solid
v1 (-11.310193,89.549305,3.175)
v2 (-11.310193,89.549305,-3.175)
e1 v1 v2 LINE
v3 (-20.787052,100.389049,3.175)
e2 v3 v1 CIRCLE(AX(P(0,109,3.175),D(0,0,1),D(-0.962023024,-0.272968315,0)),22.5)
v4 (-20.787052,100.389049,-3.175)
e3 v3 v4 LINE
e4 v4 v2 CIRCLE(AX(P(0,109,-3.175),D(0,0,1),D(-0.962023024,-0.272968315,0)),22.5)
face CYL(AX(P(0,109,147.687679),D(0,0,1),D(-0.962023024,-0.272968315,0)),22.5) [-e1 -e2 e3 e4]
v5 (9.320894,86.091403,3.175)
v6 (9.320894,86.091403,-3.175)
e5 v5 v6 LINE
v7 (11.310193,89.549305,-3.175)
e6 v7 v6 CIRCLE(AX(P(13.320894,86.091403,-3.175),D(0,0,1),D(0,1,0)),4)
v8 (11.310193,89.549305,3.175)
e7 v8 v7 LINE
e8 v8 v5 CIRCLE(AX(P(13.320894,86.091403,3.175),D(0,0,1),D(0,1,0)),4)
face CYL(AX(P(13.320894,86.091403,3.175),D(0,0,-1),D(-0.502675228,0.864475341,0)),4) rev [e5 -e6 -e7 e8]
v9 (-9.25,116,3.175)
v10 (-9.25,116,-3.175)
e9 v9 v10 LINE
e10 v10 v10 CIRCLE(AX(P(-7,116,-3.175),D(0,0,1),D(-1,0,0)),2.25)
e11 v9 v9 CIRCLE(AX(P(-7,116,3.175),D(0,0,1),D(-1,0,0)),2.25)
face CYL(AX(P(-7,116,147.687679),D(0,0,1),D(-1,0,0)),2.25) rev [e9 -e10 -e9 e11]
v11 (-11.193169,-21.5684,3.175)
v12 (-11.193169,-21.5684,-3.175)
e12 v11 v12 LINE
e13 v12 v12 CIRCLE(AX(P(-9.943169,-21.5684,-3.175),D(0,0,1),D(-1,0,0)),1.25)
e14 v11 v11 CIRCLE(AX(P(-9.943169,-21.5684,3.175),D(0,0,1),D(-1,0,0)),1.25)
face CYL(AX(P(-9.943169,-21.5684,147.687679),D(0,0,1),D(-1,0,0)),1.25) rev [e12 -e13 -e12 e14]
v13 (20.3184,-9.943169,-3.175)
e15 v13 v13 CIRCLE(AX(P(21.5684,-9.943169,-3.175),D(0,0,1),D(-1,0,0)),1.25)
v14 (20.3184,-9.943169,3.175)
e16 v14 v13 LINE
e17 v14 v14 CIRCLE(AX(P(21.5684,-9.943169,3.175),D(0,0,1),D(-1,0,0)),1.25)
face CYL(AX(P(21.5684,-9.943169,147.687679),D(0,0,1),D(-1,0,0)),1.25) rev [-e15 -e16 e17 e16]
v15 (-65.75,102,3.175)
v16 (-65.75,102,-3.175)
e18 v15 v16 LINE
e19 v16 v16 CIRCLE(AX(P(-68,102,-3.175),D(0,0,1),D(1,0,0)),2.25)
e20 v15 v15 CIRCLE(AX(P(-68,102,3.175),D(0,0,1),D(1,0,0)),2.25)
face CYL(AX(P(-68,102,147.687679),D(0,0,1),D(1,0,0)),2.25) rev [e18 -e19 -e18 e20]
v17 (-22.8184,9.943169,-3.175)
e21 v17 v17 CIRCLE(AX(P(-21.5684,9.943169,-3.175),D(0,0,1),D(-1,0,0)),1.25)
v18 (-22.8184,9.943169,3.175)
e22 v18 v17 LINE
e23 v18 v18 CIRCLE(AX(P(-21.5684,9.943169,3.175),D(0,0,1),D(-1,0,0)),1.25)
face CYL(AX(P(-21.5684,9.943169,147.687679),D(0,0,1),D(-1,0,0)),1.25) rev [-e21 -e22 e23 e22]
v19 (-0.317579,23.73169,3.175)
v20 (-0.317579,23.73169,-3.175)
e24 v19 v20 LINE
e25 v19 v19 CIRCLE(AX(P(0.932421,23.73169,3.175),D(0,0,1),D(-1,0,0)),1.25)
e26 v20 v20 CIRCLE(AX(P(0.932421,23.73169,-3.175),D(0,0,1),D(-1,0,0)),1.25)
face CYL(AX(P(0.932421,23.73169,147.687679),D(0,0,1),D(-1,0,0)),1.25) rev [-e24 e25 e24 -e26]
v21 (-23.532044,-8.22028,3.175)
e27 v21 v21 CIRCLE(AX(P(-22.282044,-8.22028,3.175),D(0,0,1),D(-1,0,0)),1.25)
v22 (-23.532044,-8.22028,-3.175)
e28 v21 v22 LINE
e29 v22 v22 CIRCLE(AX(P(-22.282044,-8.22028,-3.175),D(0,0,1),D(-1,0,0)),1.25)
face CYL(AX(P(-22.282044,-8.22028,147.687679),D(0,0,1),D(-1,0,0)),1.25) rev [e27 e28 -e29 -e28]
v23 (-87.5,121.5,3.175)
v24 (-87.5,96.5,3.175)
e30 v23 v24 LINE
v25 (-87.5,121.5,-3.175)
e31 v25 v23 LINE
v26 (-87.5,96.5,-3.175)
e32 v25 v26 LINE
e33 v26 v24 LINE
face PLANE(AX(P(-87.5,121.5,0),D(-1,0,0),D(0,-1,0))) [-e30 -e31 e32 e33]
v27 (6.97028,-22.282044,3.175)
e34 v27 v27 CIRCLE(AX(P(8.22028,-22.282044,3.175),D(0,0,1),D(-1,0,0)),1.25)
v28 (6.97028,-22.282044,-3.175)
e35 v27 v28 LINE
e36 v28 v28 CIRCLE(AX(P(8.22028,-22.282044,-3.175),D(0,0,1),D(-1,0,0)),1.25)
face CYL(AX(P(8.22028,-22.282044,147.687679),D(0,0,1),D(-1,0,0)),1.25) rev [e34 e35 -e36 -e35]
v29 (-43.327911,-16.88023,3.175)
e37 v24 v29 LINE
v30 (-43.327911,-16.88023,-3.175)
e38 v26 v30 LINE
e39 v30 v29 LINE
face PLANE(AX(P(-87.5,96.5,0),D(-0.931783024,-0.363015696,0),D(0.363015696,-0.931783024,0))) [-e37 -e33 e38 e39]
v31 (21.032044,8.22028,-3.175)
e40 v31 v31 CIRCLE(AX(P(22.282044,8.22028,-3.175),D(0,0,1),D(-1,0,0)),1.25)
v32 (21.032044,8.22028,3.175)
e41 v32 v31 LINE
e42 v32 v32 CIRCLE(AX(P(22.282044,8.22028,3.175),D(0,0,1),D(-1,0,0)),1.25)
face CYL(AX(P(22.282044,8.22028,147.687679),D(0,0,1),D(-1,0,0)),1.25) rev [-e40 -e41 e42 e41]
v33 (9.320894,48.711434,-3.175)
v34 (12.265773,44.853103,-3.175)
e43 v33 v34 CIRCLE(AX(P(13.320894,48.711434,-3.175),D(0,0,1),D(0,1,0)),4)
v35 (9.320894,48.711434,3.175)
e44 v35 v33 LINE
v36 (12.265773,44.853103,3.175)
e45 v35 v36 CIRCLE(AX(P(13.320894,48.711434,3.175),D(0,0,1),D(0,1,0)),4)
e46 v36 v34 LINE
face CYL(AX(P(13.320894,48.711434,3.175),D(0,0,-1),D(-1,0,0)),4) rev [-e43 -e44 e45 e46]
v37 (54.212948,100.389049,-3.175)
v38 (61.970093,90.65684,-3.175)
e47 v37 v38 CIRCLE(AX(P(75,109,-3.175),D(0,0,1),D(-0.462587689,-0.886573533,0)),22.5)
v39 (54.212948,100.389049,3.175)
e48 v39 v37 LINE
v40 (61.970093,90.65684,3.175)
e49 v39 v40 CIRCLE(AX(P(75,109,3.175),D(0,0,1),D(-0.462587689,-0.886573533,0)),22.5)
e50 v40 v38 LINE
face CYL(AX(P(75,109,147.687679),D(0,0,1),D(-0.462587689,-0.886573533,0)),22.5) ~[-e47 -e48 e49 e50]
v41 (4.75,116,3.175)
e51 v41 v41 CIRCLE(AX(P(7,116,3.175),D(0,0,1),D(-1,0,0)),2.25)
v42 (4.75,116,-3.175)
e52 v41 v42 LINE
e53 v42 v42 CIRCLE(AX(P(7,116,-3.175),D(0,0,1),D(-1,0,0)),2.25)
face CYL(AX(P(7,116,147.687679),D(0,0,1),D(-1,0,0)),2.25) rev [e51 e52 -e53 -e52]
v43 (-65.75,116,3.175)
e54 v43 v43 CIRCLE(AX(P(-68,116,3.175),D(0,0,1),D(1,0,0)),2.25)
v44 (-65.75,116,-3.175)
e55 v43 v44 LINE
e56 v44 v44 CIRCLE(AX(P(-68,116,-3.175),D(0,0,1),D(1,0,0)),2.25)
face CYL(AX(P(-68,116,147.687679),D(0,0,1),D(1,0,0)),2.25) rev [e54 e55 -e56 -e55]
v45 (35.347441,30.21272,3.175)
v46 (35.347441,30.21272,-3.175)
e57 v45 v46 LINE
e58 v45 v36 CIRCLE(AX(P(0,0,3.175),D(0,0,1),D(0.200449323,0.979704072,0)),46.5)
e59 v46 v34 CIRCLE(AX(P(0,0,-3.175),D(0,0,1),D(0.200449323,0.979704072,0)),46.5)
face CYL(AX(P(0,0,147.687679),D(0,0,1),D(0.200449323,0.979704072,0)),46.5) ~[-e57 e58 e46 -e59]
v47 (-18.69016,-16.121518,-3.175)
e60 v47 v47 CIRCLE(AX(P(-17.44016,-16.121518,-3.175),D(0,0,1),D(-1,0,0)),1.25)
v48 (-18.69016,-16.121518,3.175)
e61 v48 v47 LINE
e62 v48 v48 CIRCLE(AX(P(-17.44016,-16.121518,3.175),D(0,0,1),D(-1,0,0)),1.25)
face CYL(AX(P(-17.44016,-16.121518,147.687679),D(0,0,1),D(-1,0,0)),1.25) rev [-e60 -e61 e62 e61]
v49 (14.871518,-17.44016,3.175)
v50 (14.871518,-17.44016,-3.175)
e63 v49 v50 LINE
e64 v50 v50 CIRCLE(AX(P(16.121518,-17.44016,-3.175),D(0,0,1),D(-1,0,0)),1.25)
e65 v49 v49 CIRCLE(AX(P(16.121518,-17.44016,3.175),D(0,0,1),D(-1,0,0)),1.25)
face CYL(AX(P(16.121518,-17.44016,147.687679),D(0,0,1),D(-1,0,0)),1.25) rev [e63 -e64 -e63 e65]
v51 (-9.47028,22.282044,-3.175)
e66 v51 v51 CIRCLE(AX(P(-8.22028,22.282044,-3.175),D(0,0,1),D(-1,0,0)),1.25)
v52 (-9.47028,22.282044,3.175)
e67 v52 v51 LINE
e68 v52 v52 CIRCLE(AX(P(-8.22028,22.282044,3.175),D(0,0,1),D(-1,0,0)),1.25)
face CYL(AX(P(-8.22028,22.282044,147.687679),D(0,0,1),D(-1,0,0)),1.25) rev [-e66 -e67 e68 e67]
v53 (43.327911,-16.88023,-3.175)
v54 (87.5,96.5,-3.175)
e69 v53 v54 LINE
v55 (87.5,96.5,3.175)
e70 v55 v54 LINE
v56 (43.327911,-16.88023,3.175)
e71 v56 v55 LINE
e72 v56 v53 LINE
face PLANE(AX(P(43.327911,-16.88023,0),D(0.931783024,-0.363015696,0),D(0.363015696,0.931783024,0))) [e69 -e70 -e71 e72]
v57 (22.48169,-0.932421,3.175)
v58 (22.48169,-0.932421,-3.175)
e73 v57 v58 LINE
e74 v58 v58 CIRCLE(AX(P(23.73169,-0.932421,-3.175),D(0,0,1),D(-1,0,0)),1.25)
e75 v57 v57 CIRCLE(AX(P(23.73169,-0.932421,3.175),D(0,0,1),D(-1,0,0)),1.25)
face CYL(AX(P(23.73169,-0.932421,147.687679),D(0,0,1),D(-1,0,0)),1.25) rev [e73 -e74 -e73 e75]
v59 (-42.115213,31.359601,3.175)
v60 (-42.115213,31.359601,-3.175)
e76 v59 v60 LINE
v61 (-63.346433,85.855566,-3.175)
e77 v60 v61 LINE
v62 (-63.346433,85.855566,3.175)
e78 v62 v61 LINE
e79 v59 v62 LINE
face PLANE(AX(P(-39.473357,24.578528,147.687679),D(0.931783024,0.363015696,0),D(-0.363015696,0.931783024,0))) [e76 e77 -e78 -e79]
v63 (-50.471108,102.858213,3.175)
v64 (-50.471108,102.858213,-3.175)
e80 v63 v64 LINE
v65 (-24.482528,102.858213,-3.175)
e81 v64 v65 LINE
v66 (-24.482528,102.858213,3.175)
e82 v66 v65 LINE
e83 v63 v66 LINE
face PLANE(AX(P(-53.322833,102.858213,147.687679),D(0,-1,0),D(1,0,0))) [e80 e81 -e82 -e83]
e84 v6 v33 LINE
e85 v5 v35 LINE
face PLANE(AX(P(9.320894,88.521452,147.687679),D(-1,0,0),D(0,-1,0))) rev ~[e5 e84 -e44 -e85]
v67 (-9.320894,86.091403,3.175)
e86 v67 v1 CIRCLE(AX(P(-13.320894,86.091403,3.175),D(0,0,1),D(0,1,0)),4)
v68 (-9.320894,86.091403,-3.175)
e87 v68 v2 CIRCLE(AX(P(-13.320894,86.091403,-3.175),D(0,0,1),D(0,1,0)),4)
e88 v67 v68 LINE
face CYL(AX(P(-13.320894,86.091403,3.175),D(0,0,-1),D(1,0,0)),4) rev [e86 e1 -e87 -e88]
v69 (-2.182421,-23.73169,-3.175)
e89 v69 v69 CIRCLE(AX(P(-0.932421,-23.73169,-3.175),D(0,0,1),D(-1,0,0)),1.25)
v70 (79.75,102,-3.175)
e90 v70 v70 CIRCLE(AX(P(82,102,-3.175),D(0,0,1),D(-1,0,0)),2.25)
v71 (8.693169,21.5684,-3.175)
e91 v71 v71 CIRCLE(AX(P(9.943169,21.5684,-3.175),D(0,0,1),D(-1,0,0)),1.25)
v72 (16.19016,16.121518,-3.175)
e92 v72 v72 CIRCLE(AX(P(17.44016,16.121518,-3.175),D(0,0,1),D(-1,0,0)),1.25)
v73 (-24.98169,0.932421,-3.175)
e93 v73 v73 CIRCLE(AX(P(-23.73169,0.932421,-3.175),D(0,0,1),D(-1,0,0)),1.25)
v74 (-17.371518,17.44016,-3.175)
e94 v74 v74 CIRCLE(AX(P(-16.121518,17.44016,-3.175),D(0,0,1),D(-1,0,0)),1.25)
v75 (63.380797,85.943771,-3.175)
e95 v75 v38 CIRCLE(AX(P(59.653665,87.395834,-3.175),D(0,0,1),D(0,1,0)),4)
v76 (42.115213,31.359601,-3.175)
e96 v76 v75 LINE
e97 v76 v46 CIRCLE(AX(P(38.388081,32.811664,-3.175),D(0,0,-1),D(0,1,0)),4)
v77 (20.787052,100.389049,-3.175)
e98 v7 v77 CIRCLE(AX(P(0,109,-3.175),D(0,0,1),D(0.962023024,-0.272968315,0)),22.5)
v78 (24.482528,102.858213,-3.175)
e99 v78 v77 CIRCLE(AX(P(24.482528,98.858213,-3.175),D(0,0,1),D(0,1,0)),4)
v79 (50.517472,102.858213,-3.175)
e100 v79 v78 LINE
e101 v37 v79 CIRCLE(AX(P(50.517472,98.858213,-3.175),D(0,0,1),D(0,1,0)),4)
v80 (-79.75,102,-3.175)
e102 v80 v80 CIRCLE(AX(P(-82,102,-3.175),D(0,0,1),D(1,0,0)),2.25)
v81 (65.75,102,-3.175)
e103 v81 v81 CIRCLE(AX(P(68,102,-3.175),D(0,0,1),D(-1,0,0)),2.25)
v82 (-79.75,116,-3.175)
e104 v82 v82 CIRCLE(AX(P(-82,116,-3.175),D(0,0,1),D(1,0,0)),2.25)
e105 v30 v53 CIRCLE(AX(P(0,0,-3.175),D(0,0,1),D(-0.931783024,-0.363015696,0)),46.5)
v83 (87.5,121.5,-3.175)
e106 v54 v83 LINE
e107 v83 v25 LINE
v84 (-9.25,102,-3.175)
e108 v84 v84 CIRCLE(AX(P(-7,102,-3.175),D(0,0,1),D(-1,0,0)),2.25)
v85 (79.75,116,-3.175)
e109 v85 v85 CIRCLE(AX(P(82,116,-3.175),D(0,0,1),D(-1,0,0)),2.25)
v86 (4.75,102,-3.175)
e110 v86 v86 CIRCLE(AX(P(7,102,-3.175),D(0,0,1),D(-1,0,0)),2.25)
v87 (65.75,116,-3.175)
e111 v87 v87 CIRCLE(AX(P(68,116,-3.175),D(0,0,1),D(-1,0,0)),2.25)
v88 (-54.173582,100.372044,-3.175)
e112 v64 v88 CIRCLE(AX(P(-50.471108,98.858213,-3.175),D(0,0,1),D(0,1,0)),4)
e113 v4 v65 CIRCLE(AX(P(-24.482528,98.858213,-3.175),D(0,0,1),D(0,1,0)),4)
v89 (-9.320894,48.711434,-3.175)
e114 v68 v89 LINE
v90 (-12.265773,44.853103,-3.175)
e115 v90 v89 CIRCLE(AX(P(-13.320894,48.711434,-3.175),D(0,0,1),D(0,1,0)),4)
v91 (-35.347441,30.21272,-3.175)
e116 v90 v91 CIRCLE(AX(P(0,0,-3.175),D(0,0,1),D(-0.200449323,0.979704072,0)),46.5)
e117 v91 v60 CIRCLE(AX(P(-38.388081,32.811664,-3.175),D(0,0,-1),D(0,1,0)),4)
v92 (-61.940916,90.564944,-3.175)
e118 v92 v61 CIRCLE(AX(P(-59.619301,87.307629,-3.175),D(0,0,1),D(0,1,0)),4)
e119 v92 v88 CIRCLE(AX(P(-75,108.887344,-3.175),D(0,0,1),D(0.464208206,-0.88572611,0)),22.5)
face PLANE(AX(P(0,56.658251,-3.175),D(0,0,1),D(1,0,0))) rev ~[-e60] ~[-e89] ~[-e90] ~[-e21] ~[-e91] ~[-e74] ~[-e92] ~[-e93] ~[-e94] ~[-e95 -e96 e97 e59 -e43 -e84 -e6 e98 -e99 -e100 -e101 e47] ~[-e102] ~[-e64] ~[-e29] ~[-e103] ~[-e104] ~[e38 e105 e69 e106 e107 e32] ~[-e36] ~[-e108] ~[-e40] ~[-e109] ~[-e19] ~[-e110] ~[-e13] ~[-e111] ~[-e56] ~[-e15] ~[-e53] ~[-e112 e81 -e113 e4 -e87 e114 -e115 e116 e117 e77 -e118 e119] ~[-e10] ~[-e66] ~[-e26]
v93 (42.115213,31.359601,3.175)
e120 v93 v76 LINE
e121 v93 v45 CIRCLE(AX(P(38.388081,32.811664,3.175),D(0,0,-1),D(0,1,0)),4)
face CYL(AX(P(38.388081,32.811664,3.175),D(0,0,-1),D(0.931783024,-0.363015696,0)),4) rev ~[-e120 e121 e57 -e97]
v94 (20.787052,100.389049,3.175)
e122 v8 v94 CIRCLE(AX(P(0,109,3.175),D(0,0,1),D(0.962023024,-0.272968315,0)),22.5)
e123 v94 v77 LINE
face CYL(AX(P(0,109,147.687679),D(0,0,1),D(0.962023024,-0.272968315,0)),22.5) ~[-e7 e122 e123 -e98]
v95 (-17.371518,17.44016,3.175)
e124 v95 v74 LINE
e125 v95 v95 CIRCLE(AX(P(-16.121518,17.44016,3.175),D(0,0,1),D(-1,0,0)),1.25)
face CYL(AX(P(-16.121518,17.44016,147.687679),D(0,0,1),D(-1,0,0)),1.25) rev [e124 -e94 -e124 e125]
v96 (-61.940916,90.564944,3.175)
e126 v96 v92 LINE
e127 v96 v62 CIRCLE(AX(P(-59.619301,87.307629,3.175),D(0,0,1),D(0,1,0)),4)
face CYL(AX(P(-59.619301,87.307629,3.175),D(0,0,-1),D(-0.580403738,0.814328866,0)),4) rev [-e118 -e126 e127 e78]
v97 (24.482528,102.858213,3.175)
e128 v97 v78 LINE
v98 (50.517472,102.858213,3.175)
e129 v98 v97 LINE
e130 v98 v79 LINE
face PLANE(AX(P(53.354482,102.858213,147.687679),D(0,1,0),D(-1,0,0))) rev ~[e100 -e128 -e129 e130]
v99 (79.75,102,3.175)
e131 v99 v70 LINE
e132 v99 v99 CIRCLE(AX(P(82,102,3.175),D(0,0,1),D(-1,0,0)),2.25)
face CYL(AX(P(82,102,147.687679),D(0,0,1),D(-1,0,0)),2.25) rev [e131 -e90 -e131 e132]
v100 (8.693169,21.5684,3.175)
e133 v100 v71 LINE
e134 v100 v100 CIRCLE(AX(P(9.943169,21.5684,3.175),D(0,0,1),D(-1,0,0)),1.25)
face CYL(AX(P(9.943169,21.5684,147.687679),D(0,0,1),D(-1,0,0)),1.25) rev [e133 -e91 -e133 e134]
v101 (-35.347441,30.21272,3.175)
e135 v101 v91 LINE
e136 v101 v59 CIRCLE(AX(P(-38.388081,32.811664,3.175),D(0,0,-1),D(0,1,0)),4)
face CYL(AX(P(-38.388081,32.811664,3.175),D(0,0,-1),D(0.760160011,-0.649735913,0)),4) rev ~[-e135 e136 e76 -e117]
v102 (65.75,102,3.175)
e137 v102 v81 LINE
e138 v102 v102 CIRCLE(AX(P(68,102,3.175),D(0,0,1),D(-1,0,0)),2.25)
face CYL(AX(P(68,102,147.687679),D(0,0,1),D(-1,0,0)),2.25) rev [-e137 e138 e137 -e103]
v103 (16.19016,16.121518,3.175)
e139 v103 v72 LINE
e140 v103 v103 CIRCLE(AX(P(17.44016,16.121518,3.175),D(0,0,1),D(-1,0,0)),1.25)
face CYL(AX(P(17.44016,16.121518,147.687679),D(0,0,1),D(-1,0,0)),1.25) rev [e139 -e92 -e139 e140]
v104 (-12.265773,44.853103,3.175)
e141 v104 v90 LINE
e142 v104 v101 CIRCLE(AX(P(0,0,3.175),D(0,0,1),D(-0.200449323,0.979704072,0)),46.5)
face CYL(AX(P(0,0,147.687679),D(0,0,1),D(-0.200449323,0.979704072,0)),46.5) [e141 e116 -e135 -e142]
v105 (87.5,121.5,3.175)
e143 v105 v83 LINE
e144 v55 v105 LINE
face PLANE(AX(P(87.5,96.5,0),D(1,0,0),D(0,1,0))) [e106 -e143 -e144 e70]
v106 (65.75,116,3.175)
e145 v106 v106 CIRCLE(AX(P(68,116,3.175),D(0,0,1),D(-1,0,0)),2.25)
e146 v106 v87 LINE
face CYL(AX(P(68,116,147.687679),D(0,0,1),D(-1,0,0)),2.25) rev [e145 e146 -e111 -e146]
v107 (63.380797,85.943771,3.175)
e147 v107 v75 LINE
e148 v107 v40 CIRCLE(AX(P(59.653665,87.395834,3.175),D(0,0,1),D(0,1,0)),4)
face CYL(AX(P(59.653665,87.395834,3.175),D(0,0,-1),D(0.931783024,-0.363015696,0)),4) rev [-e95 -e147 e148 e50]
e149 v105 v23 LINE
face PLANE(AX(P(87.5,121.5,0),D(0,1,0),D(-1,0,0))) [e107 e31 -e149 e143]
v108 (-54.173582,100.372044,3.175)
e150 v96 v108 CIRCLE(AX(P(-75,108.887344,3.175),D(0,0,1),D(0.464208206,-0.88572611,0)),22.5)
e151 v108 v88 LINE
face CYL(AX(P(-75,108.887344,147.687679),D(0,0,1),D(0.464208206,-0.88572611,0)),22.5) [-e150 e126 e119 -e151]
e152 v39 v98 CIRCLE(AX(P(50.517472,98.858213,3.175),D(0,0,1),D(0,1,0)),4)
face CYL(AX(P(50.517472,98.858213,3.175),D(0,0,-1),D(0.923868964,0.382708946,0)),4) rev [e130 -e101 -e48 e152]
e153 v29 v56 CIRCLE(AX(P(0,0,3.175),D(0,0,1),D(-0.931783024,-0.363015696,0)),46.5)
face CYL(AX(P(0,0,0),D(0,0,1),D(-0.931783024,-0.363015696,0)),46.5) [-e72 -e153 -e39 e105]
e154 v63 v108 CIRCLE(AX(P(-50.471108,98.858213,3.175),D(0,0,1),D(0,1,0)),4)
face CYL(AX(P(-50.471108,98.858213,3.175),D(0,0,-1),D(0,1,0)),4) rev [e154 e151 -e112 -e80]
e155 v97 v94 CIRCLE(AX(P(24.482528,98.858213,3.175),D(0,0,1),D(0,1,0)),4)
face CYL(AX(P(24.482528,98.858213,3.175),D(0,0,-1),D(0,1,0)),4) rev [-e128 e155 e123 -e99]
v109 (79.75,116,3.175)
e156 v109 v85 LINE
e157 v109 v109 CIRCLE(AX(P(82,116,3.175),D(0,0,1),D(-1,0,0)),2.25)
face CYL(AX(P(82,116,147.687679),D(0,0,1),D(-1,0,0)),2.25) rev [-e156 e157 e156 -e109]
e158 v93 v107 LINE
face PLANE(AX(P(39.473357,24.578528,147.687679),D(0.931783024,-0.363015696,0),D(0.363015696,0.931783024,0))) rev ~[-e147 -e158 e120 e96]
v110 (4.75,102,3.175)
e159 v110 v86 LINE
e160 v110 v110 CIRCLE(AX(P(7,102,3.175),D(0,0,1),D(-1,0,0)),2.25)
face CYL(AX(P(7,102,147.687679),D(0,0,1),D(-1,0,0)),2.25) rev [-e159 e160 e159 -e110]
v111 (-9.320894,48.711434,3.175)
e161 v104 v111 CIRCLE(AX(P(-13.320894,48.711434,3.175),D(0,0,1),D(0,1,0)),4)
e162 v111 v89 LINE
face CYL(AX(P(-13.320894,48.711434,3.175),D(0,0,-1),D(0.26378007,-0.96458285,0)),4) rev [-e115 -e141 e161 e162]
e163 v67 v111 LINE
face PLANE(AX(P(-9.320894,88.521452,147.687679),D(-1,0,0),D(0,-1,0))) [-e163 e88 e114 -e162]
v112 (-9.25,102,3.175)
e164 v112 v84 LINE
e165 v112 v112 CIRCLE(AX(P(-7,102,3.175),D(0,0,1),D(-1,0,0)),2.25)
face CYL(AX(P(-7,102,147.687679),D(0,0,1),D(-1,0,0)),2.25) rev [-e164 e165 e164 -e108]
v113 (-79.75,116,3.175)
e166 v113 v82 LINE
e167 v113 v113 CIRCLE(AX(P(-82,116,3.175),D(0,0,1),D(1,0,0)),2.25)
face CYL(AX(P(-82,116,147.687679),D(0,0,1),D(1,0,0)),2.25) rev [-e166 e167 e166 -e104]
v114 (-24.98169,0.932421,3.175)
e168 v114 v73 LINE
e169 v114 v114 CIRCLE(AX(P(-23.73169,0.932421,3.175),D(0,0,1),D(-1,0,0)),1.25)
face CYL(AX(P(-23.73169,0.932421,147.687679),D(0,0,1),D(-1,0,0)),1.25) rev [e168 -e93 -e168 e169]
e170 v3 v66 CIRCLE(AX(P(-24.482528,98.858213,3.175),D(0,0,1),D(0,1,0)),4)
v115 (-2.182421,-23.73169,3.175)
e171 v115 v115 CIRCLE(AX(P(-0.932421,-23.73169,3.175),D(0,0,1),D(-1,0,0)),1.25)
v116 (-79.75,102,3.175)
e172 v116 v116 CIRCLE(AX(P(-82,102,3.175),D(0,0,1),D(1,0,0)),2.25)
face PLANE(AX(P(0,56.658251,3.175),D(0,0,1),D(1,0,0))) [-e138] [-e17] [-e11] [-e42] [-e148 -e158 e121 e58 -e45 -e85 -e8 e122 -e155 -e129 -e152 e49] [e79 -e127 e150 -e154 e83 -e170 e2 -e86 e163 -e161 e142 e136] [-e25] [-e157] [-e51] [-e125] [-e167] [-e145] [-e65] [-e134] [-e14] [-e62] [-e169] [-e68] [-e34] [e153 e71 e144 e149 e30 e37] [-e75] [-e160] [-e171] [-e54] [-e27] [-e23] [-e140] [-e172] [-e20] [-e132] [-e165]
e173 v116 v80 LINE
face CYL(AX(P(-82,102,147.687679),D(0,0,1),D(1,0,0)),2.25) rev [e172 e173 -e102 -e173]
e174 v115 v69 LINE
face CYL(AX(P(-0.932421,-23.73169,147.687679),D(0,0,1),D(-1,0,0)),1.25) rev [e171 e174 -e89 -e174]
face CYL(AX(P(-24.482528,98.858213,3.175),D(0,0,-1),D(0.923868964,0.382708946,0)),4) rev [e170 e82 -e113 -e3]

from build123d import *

# Parameters (mm, degrees)
BOSS_EXTRUDE1_DEPTH     = 3.175
CUT_EXTRUDE2_DEPTH      = 150.86267881
CUT_EXTRUDE2_DEPTH_BACK = 150.86267881
SKETCH3_R               = 1.25
CUT_EXTRUDE6_DEPTH      = 150.86267881
CUT_EXTRUDE6_DEPTH_BACK = 150.86267881
SKETCH12_R              = 2.25
CUT_EXTRUDE7_DEPTH      = 150.86267881
CUT_EXTRUDE7_DEPTH_BACK = 150.86267881
FILLET4_R               = 4


with BuildPart() as part:
    # Sketch1 → Boss-Extrude1 (new, symmetric)
    with BuildSketch(Plane.XY):
        with BuildLine():
            Line((87.5, 121.5), (-87.5, 121.5))
            Line((-87.5, 121.5), (-87.5, 96.5))
            Line((-87.5, 96.5), (-43.327910637, -16.880229852))
            ThreePointArc((-43.327910637, -16.880229852), (0, -46.5), (43.327910637, -16.880229852))
            Line((43.327910637, -16.880229852), (87.5, 96.5))
            Line((87.5, 96.5), (87.5, 121.5))
        make_face()
    extrude(amount=BOSS_EXTRUDE1_DEPTH, both=True)

    # Sketch3 → Cut-Extrude2 (cut, two sides: drawn at the far end of the back side and taken through both)
    with BuildSketch(Plane(origin=(0, 0, -3.175), x_dir=(-1, 0, 0), z_dir=(0, 0, -1)).offset(-CUT_EXTRUDE2_DEPTH_BACK)):
        with Locations((17.440159599, -16.121517706)):
            Circle(SKETCH3_R)
        with Locations((22.282044228, -8.220280106)):
            Circle(SKETCH3_R)
        with Locations((9.943168767, -21.568400378)):
            Circle(SKETCH3_R)
        with Locations((0.932420624, -23.731689611)):
            Circle(SKETCH3_R)
        with Locations((-8.220280106, -22.282044228)):
            Circle(SKETCH3_R)
        with Locations((-16.121517706, -17.440159599)):
            Circle(SKETCH3_R)
        with Locations((-21.568400378, -9.943168767)):
            Circle(SKETCH3_R)
        with Locations((-23.731689611, -0.932420624)):
            Circle(SKETCH3_R)
        with Locations((-22.282044228, 8.220280106)):
            Circle(SKETCH3_R)
        with Locations((-17.440159599, 16.121517706)):
            Circle(SKETCH3_R)
        with Locations((-9.943168767, 21.568400378)):
            Circle(SKETCH3_R)
        with Locations((-0.932420624, 23.731689611)):
            Circle(SKETCH3_R)
        with Locations((8.220280106, 22.282044228)):
            Circle(SKETCH3_R)
        with Locations((16.121517706, 17.440159599)):
            Circle(SKETCH3_R)
        with Locations((21.568400378, 9.943168767)):
            Circle(SKETCH3_R)
        with Locations((23.731689611, 0.932420624)):
            Circle(SKETCH3_R)
    extrude(amount=CUT_EXTRUDE2_DEPTH + CUT_EXTRUDE2_DEPTH_BACK, mode=Mode.SUBTRACT)

    # Sketch12 → Cut-Extrude6 (cut, two sides: drawn at the far end of the back side and taken through both)
    with BuildSketch(Plane(origin=(0, 0, -3.175), x_dir=(-1, 0, 0), z_dir=(0, 0, -1)).offset(-CUT_EXTRUDE6_DEPTH_BACK)):
        with Locations((-7, 102)):
            Circle(SKETCH12_R)
        with Locations((7, 102)):
            Circle(SKETCH12_R)
        with Locations((7, 116)):
            Circle(SKETCH12_R)
        with Locations((-82, 116)):
            Circle(SKETCH12_R)
        with Locations((-68, 116)):
            Circle(SKETCH12_R)
        with Locations((-68, 102)):
            Circle(SKETCH12_R)
        with Locations((-82, 102)):
            Circle(SKETCH12_R)
        with Locations(Location((82, 102, 0), (0, 0, 180))):
            Circle(SKETCH12_R)
        with Locations(Location((68, 102, 0), (0, 0, 180))):
            Circle(SKETCH12_R)
        with Locations(Location((68, 116, 0), (0, 0, 180))):
            Circle(SKETCH12_R)
        with Locations(Location((82, 116, 0), (0, 0, 180))):
            Circle(SKETCH12_R)
        with Locations((-7, 116)):
            Circle(SKETCH12_R)
    extrude(amount=CUT_EXTRUDE6_DEPTH + CUT_EXTRUDE6_DEPTH_BACK, mode=Mode.SUBTRACT)

    # Sketch13 → Cut-Extrude7 (cut, two sides: drawn at the far end of the back side and taken through both)
    with BuildSketch(Plane(origin=(0, 0, -3.175), x_dir=(-1, 0, 0), z_dir=(0, 0, -1)).offset(-CUT_EXTRUDE7_DEPTH_BACK)):
        with BuildLine():
            Line((-39.473357495, 24.578528192), (-64.591776998, 89.0520955))
            ThreePointArc((-64.591776998, 89.0520955), (-57.549704921, 94.796577819), (-53.354481954, 102.85821292))
            Line((-53.354481954, 102.85821292), (-21.645518046, 102.85821292))
            ThreePointArc((-21.645518046, 102.85821292), (-17.06210253, 94.332530646), (-9.32089354, 88.521451623))
            Line((-9.32089354, 88.521451623), (-9.32089354, 45.556239349))
            ThreePointArc((-9.32089354, 45.556239349), (-26.556276563, 38.170855048), (-39.473357495, 24.578528192))
        make_face()
        with BuildLine():
            Line((39.473357495, 24.578528192), (64.555315361, 88.958506339))
            ThreePointArc((64.555315361, 88.958506339), (57.499891336, 94.745342648), (53.322832732, 102.85821292))
            Line((53.322832732, 102.85821292), (21.645518046, 102.85821292))
            ThreePointArc((21.645518046, 102.85821292), (17.06210253, 94.332530646), (9.32089354, 88.521451623))
            Line((9.32089354, 88.521451623), (9.32089354, 45.556239349))
            ThreePointArc((9.32089354, 45.556239349), (26.556276563, 38.170855048), (39.473357495, 24.578528192))
        make_face()
    extrude(amount=CUT_EXTRUDE7_DEPTH + CUT_EXTRUDE7_DEPTH_BACK, mode=Mode.SUBTRACT)

    # Fillet4
    fillet4_edges = [part.edges().sort_by_distance(p)[0] for p in [
        (-53.322832732, 102.85821292, 0),
        (-64.555315361, 88.958506339, 0),
        (-39.473357495, 24.578528192, 0),
        (-9.32089354, 45.556239349, 0),
        (-9.32089354, 88.521451623, 0),
        (-21.645518046, 102.85821292, 0),
        (64.591776998, 89.0520955, 0),
        (53.354481954, 102.85821292, 0),
        (21.645518046, 102.85821292, 0),
        (9.32089354, 88.521451623, 0),
        (9.32089354, 45.556239349, 0),
        (39.473357495, 24.578528192, 0),
    ]]
    fillet(fillet4_edges, radius=FILLET4_R)


solid = part.part
